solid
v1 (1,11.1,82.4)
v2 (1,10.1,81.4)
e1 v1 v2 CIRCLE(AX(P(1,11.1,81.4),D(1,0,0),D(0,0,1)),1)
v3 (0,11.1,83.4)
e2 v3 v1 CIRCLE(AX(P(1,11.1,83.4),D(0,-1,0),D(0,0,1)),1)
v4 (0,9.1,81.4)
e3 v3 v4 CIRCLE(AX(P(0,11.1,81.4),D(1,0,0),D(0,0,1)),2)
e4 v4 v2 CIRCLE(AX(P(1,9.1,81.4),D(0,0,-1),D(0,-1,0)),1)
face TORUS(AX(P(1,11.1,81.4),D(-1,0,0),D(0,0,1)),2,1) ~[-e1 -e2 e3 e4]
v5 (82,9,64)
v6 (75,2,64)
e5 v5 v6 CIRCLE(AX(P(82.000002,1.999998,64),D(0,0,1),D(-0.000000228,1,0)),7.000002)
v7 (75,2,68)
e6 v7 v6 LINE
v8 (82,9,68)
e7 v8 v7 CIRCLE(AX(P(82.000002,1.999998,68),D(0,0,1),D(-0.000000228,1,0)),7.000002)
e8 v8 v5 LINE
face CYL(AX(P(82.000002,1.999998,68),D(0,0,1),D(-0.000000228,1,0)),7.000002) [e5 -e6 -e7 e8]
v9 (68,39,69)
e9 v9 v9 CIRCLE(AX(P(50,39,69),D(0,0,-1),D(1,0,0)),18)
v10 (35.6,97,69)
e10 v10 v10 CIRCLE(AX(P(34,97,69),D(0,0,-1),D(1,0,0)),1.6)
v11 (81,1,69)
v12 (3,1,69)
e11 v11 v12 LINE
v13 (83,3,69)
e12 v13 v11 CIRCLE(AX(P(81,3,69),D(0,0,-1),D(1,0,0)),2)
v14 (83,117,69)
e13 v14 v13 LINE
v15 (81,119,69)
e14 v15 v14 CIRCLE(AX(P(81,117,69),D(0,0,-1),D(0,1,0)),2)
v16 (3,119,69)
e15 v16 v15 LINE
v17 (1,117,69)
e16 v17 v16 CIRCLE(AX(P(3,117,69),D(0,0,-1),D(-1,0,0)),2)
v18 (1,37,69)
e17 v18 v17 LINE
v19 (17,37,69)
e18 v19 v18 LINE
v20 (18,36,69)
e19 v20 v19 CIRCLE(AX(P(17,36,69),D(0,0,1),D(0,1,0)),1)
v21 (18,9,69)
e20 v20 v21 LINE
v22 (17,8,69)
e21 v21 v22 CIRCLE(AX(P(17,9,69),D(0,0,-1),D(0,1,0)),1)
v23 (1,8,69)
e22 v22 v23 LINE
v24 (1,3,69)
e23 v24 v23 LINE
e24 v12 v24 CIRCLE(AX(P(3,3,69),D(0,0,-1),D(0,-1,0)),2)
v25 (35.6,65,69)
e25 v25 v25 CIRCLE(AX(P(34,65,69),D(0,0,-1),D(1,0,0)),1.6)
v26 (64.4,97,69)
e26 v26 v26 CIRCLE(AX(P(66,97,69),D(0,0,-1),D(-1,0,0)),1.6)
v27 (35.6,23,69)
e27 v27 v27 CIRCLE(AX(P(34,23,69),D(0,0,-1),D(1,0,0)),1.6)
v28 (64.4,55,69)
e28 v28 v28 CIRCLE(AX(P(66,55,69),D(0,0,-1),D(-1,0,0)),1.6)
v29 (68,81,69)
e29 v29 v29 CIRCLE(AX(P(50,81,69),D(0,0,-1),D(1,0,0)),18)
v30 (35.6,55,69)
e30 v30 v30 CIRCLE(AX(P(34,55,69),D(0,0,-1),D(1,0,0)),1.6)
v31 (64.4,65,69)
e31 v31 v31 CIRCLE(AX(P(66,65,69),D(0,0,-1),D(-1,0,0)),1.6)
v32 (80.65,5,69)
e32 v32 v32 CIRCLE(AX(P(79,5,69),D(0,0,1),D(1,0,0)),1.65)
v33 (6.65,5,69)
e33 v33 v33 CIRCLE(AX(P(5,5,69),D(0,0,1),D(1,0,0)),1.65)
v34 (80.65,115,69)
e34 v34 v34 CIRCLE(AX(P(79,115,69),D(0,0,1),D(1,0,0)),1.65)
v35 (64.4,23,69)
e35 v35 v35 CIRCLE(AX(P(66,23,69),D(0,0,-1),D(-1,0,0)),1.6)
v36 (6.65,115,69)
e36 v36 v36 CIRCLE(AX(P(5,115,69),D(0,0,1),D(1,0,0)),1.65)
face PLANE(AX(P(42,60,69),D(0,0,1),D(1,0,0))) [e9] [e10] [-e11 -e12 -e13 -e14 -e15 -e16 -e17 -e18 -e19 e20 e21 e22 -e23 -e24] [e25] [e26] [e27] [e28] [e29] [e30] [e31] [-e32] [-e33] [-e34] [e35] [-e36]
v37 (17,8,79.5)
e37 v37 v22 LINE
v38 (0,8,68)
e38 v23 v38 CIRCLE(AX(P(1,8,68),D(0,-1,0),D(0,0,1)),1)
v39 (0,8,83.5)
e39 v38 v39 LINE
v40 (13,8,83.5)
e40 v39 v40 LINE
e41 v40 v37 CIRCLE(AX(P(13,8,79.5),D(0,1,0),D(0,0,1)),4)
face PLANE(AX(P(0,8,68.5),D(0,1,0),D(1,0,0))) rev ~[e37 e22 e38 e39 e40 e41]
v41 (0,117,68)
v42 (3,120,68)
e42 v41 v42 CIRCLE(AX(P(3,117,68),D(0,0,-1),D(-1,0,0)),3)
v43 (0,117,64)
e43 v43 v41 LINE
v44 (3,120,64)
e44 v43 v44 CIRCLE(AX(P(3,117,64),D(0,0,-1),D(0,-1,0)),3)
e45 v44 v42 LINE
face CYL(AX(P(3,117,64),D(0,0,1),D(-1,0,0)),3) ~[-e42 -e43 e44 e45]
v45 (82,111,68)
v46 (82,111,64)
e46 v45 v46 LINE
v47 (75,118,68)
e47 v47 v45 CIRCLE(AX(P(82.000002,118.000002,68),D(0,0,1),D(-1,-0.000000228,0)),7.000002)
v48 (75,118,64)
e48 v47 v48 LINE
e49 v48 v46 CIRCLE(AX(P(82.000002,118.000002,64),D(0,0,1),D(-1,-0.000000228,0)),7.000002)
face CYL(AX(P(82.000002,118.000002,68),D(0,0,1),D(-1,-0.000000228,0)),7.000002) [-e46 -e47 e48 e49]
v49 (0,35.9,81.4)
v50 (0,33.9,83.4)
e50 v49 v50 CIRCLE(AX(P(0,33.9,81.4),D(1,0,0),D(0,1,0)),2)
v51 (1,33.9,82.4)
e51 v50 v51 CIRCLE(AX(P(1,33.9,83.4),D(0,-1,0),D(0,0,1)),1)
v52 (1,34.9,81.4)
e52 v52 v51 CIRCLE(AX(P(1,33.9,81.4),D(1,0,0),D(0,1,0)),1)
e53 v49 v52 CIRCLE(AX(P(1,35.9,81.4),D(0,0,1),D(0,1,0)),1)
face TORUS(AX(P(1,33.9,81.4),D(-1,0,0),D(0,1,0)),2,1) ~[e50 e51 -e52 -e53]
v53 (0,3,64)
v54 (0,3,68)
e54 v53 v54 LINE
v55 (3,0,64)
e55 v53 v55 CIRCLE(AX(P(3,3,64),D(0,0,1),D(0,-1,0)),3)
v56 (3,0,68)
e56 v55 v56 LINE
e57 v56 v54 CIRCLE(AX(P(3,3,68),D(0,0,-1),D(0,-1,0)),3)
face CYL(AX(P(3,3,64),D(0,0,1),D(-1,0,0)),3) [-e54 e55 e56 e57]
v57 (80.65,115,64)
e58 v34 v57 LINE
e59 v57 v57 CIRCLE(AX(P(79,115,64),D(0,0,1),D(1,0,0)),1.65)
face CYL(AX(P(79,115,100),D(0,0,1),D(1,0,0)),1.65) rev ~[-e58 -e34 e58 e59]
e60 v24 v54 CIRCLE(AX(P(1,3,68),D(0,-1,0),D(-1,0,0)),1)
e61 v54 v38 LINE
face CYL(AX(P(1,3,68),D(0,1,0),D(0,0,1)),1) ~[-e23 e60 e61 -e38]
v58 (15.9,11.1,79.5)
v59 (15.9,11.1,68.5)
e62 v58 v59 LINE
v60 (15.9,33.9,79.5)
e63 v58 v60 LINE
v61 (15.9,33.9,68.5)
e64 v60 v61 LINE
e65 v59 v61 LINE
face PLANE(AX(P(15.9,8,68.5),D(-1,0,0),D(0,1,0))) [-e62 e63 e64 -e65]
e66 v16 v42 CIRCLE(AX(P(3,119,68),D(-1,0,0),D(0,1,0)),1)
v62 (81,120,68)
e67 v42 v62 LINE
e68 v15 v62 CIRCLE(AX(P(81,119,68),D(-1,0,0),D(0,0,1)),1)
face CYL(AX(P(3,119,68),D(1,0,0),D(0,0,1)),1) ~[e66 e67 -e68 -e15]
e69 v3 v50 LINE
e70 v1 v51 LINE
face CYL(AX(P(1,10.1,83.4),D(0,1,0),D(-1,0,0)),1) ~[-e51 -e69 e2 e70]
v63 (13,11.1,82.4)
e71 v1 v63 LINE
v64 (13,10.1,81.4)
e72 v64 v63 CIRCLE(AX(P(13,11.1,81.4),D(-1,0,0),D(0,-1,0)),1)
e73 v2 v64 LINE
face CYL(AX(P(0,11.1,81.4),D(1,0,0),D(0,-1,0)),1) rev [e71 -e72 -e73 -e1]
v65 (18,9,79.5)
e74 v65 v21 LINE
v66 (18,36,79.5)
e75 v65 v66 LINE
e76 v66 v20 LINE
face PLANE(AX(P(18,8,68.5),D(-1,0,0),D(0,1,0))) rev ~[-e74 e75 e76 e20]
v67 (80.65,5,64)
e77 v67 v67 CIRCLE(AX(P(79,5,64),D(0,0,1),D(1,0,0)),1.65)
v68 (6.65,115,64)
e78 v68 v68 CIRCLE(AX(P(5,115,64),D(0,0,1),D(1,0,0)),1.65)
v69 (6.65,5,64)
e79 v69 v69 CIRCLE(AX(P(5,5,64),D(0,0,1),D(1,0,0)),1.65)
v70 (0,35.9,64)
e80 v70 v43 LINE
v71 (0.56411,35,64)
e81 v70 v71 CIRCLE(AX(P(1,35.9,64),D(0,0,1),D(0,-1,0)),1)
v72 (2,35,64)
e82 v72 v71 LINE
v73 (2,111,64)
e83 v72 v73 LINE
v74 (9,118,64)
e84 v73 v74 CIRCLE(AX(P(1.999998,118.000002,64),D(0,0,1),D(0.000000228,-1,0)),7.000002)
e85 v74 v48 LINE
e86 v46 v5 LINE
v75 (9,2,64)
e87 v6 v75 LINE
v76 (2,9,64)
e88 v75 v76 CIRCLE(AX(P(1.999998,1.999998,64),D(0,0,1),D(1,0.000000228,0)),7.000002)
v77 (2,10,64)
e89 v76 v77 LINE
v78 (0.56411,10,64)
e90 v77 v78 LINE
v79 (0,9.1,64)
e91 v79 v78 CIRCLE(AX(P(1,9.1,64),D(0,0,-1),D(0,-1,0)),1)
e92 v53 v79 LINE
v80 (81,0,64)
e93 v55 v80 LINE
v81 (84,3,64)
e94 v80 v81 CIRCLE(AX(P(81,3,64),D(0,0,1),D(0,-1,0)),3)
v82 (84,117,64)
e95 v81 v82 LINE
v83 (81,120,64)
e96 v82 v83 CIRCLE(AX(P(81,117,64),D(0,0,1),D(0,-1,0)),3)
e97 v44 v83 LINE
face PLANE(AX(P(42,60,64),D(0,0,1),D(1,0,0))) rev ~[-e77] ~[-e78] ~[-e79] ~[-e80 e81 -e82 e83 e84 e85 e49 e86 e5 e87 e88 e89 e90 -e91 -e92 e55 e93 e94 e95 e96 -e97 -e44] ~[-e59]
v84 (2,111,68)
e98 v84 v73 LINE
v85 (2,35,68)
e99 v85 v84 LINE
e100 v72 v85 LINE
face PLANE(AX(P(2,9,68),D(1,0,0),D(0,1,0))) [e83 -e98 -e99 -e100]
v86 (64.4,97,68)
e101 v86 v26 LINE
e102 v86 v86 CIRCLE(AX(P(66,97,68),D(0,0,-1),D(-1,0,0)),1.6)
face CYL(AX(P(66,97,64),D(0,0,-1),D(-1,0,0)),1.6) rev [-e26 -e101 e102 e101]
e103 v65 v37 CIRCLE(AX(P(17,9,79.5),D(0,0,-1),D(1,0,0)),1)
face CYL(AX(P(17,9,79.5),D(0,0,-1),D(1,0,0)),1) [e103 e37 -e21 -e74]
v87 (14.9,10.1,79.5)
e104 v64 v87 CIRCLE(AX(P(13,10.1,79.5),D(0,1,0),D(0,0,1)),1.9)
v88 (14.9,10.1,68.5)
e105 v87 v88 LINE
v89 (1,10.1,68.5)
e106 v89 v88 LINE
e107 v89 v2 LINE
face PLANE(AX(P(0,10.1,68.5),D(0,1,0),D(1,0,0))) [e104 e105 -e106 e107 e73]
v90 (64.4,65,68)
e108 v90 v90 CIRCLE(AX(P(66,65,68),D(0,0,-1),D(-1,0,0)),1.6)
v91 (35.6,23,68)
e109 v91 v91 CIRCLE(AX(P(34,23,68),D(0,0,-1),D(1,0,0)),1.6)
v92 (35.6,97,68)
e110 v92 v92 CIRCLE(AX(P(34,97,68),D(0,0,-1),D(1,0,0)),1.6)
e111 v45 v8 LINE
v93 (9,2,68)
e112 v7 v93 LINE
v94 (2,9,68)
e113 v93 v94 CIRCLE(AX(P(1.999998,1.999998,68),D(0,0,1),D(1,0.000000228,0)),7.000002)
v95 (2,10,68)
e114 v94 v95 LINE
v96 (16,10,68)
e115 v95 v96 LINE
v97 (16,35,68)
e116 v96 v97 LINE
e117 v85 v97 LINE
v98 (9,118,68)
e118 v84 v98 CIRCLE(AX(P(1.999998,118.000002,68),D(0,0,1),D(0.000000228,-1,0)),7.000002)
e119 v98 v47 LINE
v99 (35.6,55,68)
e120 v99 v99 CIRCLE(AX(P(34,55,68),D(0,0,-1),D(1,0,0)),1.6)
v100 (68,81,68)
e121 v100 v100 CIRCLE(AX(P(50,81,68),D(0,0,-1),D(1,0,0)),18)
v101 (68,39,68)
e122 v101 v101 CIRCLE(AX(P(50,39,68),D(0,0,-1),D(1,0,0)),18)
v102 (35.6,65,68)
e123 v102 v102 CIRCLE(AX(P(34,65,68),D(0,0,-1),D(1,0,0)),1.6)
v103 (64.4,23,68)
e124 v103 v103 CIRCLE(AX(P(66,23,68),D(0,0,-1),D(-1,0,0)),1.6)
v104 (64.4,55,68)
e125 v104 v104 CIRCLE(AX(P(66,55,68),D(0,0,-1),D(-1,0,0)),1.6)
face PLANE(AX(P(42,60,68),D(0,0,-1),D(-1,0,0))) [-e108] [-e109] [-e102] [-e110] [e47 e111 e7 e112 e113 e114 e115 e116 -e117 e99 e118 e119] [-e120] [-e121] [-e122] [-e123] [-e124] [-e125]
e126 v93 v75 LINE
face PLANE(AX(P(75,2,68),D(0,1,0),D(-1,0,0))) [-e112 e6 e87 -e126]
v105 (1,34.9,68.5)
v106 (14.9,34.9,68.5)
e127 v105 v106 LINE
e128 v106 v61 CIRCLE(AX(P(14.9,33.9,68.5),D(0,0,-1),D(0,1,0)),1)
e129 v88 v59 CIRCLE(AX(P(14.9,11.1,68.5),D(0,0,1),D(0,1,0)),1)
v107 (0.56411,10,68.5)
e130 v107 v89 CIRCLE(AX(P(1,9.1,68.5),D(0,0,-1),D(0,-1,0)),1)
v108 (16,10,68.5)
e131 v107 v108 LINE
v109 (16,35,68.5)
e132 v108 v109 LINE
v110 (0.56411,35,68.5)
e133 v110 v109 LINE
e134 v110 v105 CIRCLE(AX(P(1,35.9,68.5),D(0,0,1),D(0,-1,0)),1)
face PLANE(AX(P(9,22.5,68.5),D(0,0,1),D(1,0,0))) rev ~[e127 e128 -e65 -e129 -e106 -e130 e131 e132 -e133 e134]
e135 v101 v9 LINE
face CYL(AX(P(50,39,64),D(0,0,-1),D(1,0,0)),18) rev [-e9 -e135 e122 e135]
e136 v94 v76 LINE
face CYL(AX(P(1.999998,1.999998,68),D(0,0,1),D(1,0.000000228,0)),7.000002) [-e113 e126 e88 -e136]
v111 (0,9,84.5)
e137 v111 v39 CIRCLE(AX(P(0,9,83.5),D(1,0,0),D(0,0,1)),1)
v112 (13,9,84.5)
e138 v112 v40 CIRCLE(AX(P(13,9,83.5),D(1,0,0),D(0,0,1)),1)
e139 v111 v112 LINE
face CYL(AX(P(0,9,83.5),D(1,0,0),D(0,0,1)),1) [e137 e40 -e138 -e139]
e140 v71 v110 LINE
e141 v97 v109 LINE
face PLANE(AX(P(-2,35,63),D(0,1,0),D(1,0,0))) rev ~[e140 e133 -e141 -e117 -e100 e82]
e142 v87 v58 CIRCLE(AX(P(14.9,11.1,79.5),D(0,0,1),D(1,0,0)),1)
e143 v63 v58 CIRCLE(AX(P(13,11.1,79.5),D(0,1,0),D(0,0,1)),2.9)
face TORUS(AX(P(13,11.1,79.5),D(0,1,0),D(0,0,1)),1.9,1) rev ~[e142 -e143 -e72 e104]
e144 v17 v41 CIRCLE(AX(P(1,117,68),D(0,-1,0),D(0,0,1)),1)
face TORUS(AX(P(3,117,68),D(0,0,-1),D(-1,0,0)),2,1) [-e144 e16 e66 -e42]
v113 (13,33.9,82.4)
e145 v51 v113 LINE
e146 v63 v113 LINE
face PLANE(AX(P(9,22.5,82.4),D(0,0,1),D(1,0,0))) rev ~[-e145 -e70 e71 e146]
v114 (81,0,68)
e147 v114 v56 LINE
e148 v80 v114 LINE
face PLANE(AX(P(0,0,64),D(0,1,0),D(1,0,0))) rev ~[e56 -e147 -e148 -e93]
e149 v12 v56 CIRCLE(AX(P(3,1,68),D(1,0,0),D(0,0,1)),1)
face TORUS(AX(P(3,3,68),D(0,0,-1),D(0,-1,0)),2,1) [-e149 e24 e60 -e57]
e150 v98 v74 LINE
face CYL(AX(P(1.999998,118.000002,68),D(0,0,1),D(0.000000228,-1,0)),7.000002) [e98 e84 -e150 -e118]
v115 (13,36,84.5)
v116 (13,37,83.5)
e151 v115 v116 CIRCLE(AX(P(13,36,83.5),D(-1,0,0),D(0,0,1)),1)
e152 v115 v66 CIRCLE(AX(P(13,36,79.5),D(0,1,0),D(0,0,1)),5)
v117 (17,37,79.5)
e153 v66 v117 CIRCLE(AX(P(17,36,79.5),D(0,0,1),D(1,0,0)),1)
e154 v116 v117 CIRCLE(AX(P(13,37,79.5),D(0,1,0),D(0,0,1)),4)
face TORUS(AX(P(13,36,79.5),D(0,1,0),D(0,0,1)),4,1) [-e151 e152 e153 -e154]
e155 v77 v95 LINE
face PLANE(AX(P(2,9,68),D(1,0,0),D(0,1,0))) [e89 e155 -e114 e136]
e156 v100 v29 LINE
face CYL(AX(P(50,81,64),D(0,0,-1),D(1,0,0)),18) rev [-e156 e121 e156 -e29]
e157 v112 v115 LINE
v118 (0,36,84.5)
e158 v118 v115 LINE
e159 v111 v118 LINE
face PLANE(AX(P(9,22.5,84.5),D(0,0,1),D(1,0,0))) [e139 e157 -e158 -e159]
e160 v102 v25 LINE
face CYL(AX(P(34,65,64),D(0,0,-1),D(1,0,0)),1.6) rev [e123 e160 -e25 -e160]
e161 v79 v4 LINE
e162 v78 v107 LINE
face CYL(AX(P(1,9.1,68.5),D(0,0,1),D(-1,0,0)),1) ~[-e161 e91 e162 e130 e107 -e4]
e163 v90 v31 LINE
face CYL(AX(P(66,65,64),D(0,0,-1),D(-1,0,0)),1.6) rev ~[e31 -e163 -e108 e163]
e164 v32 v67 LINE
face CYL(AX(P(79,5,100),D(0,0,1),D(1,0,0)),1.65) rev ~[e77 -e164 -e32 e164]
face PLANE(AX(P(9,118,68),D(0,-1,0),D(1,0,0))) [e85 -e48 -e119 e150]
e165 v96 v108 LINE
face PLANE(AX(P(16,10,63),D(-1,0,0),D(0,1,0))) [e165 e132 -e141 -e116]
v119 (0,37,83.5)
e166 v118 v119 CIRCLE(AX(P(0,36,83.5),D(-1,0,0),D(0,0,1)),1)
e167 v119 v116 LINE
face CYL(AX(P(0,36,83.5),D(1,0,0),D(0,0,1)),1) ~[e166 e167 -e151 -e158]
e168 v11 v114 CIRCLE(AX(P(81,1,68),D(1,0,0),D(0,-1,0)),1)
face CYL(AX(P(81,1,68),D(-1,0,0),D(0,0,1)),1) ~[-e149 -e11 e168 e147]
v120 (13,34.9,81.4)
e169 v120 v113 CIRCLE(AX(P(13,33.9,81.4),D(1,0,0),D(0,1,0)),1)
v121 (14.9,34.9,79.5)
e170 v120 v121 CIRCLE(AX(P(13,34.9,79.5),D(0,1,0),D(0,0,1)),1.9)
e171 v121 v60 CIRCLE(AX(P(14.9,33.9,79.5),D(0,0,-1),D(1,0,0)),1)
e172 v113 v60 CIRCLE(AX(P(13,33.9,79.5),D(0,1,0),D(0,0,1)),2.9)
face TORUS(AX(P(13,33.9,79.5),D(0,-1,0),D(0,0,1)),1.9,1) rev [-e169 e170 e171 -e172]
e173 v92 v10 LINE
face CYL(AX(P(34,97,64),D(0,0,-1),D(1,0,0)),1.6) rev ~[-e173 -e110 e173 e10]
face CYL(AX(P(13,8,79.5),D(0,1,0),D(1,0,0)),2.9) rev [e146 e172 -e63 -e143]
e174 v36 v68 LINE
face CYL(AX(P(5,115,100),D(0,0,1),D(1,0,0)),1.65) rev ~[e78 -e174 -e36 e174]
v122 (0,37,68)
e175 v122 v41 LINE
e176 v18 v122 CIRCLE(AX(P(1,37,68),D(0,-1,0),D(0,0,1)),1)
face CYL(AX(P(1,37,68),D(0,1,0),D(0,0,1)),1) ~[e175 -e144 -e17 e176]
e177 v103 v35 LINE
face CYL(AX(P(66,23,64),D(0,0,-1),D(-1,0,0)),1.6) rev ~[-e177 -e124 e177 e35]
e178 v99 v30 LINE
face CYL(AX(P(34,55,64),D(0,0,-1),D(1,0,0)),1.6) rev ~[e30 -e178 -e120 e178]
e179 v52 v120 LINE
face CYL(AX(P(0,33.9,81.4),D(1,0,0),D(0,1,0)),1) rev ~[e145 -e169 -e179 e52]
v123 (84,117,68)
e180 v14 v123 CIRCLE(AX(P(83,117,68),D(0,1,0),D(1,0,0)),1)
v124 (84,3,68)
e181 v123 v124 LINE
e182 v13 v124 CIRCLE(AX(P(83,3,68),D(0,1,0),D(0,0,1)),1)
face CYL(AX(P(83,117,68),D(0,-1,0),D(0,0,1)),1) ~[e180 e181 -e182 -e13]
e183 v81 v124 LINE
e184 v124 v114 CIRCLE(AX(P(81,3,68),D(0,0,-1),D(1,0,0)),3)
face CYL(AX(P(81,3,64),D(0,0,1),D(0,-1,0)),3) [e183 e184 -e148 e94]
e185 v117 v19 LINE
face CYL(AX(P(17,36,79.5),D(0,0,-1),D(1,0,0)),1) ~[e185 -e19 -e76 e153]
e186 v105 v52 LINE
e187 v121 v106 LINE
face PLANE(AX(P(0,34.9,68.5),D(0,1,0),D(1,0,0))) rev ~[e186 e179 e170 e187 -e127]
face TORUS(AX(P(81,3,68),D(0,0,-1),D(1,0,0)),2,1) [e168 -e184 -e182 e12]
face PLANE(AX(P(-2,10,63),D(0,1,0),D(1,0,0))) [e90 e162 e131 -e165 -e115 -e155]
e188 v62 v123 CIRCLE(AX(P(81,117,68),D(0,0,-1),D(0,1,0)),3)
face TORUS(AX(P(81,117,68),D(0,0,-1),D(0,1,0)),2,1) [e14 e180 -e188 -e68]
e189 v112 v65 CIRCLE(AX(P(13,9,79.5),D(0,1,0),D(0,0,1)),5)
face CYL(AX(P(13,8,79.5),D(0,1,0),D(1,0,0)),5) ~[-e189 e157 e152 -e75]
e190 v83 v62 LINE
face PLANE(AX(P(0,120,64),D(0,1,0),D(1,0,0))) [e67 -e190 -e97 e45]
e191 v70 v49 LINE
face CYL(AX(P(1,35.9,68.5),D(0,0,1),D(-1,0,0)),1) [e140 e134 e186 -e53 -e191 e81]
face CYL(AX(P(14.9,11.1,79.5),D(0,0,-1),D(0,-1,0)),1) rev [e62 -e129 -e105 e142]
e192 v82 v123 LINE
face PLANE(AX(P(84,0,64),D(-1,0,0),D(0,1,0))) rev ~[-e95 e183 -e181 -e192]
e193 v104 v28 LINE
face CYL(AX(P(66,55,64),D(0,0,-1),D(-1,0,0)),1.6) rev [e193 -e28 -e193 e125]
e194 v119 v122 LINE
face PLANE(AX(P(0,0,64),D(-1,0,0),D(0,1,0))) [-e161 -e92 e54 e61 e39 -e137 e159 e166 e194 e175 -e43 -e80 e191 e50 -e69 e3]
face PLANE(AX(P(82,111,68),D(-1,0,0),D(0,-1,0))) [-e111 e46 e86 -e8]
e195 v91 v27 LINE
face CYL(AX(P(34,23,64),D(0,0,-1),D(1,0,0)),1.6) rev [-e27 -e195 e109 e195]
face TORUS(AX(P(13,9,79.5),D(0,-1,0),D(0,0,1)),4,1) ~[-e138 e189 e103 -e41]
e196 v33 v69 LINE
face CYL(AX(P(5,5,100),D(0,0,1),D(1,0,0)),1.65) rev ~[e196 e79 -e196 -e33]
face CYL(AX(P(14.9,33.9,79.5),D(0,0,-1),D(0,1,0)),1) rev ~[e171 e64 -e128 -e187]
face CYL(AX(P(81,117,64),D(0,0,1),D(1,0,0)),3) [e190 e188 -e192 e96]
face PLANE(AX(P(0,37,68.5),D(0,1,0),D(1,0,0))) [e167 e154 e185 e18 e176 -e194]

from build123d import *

# Parameters (mm, degrees)
SKETCH009_R       = 1.65
PAD007_DEPTH      = 55
CYLINDER041_R     = 1.6
CYLINDER041_DEPTH = 10
CYLINDER042_R     = 18
CYLINDER042_DEPTH = 10
CYLINDER009_R     = 1.6
CYLINDER009_DEPTH = 10
CYLINDER010_R     = 18
CYLINDER010_DEPTH = 10
BOX016_W          = 18
BOX016_H          = 29
BOX016_DEPTH      = 16
FILLET020_R       = 5
THICKNESS_T       = -2.1
BOX015_W          = 18
BOX015_H          = 25
BOX015_DEPTH      = 18
PAD008_DEPTH      = 101
BOX010_W          = 84
BOX010_H          = 120
BOX010_DEPTH      = 5
FILLET012_R       = 3
FILLET034_R       = 1


with BuildPart() as pad007:
    # Sketch009 → Pad007 (new body)
    with BuildSketch(Plane.XY.offset(100)):
        with Locations((5, 115)):
            Circle(SKETCH009_R)
        with Locations((79, 115)):
            Circle(SKETCH009_R)
        with Locations((79, 5)):
            Circle(SKETCH009_R)
        with Locations((5, 5)):
            Circle(SKETCH009_R)
    extrude(amount=-PAD007_DEPTH)


with BuildPart() as cylinder041:
    # Cylinder041 → Cylinder041 (new body)
    with BuildSketch(Plane(origin=(-16, -16, 0), x_dir=(1, 0, 0), z_dir=(0, 0, 1))):
        Circle(CYLINDER041_R)
    extrude(amount=CYLINDER041_DEPTH)


with BuildPart() as part_mirroring003:
    # Part__Mirroring003: instance of Cylinder041
    add(cylinder041.part.mirror(Plane(origin=(0, 0, 0), x_dir=(1, 0, 0), z_dir=(0, 1, 0))))


with BuildPart() as part_mirroring005:
    # Part__Mirroring005: instance of Part__Mirroring003
    add(part_mirroring003.part.mirror(Plane(origin=(0, 0, 0), x_dir=(0, -1, 0), z_dir=(1, 0, 0))))


with BuildPart() as part_mirroring004:
    # Part__Mirroring004: instance of Cylinder041
    add(cylinder041.part.mirror(Plane(origin=(0, 0, 0), x_dir=(0, -1, 0), z_dir=(1, 0, 0))))


with BuildPart() as fusion040:
    # Cylinder042 → Cylinder042 (new body)
    with BuildSketch(Plane.XY):
        Circle(CYLINDER042_R)
    extrude(amount=CYLINDER042_DEPTH)

    # Fusion040: union Part__Mirroring003, Part__Mirroring005, Cylinder041, Part__Mirroring004
    add(part_mirroring003.part)
    add(part_mirroring005.part)
    add(cylinder041.part)
    add(part_mirroring004.part)


with BuildPart() as fusion040_1:
    # Fusion040 placement: moved
    add(fusion040.part.moved(Location((42, 40, 64))))


with BuildPart() as cylinder009:
    # Cylinder009 → Cylinder009 (new body)
    with BuildSketch(Plane(origin=(-16, -16, 0), x_dir=(1, 0, 0), z_dir=(0, 0, 1))):
        Circle(CYLINDER009_R)
    extrude(amount=CYLINDER009_DEPTH)


with BuildPart() as part_mirroring:
    # Part__Mirroring: instance of Cylinder009
    add(cylinder009.part.mirror(Plane(origin=(0, 0, 0), x_dir=(1, 0, 0), z_dir=(0, 1, 0))))


with BuildPart() as part_mirroring002:
    # Part__Mirroring002: instance of Part__Mirroring
    add(part_mirroring.part.mirror(Plane(origin=(0, 0, 0), x_dir=(0, -1, 0), z_dir=(1, 0, 0))))


with BuildPart() as part_mirroring001:
    # Part__Mirroring001: instance of Cylinder009
    add(cylinder009.part.mirror(Plane(origin=(0, 0, 0), x_dir=(0, -1, 0), z_dir=(1, 0, 0))))


with BuildPart() as fusion041:
    # Cylinder010 → Cylinder010 (new body)
    with BuildSketch(Plane.XY):
        Circle(CYLINDER010_R)
    extrude(amount=CYLINDER010_DEPTH)

    # Fusion009: union Part__Mirroring, Part__Mirroring002, Cylinder009, Part__Mirroring001
    add(part_mirroring.part)
    add(part_mirroring002.part)
    add(cylinder009.part)
    add(part_mirroring001.part)


with BuildPart() as fusion041_1:
    # Fusion009 placement: moved
    add(fusion041.part.moved(Location((42, 82, 64))))

    # Fusion041: union Fusion040
    add(fusion040_1.part)


with BuildPart() as fusion041_2:
    # Fusion041 placement: moved
    add(fusion041_1.part.moved(Location((8, -1, 0))))


with BuildPart() as thickness:
    # Box016 → Box016 (new body)
    with BuildSketch(Plane(origin=(0, 8, 68.5), x_dir=(1, 0, 0), z_dir=(0, 0, 1))):
        with Locations((9, 14.5)):
            Rectangle(BOX016_W, BOX016_H)
    extrude(amount=BOX016_DEPTH)

    # Fillet020
    fillet020_edges = [thickness.edges().sort_by_distance(p)[0] for p in [
        (18, 22.5, 84.5),
    ]]
    fillet(fillet020_edges, radius=FILLET020_R)

    # Thickness
    thickness_openings = [thickness.faces().sort_by_distance(p)[0] for p in [
        (0, 22.5, 76.5),
        (9, 22.5, 68.5),
    ]]
    offset(amount=THICKNESS_T, openings=thickness_openings)


with BuildPart() as cube015:
    # Box015 → Box015 (new body)
    with BuildSketch(Plane(origin=(-2, 10, 63), x_dir=(1, 0, 0), z_dir=(0, 0, 1))):
        with Locations((9, 12.5)):
            Rectangle(BOX015_W, BOX015_H)
    extrude(amount=BOX015_DEPTH)


with BuildPart() as pad008:
    # Sketch010 → Pad008 (new body)
    with BuildSketch(Plane.XY.offset(68)):
        with BuildLine():
            Line((82, 111), (82, 9))
            ThreePointArc((82, 9), (77.050253, 6.949747), (75, 2))
            Line((75, 2), (9, 2))
            ThreePointArc((9, 2), (6.949747, 6.949747), (2, 9))
            Line((2, 9), (2, 111))
            ThreePointArc((2, 111), (6.949747, 113.050253), (9, 118))
            Line((9, 118), (75, 118))
            ThreePointArc((75, 118), (77.050253, 113.050253), (82, 111))
        make_face()
    extrude(amount=-PAD008_DEPTH)


with BuildPart() as fillet034:
    # Box010 → Box010 (new body)
    with BuildSketch(Plane.XY.offset(64)):
        with Locations((42, 60)):
            Rectangle(BOX010_W, BOX010_H)
    extrude(amount=BOX010_DEPTH)

    # Fillet012
    fillet012_edges = [fillet034.edges().sort_by_distance(p)[0] for p in [
        (0, 0, 66.5),
        (0, 120, 66.5),
        (84, 0, 66.5),
        (84, 120, 66.5),
    ]]
    fillet(fillet012_edges, radius=FILLET012_R)

    # Cut014: cut Pad008
    add(pad008.part, mode=Mode.SUBTRACT)

    # Cut043: cut Cube015
    add(cube015.part, mode=Mode.SUBTRACT)

    # Fusion042: union Thickness
    add(thickness.part)

    # Cut044: cut Fusion041
    add(fusion041_2.part, mode=Mode.SUBTRACT)

    # Cut045: cut Pad007
    add(pad007.part, mode=Mode.SUBTRACT)

    # Fillet034
    fillet034_edges = [fillet034.edges().sort_by_distance(p)[0] for p in [
        (0, 34.9, 75.45),
        (0, 22.5, 82.4),
        (0, 10.1, 75.45),
        (15.05061, 10.1, 81.55061),
        (6.5, 34.9, 82.4),
        (0.87868, 119.12132, 69),
        (6.5, 8, 84.5),
        (6.5, 37, 84.5),
    ]]
    fillet(fillet034_edges, radius=FILLET034_R)


solid = fillet034.part
